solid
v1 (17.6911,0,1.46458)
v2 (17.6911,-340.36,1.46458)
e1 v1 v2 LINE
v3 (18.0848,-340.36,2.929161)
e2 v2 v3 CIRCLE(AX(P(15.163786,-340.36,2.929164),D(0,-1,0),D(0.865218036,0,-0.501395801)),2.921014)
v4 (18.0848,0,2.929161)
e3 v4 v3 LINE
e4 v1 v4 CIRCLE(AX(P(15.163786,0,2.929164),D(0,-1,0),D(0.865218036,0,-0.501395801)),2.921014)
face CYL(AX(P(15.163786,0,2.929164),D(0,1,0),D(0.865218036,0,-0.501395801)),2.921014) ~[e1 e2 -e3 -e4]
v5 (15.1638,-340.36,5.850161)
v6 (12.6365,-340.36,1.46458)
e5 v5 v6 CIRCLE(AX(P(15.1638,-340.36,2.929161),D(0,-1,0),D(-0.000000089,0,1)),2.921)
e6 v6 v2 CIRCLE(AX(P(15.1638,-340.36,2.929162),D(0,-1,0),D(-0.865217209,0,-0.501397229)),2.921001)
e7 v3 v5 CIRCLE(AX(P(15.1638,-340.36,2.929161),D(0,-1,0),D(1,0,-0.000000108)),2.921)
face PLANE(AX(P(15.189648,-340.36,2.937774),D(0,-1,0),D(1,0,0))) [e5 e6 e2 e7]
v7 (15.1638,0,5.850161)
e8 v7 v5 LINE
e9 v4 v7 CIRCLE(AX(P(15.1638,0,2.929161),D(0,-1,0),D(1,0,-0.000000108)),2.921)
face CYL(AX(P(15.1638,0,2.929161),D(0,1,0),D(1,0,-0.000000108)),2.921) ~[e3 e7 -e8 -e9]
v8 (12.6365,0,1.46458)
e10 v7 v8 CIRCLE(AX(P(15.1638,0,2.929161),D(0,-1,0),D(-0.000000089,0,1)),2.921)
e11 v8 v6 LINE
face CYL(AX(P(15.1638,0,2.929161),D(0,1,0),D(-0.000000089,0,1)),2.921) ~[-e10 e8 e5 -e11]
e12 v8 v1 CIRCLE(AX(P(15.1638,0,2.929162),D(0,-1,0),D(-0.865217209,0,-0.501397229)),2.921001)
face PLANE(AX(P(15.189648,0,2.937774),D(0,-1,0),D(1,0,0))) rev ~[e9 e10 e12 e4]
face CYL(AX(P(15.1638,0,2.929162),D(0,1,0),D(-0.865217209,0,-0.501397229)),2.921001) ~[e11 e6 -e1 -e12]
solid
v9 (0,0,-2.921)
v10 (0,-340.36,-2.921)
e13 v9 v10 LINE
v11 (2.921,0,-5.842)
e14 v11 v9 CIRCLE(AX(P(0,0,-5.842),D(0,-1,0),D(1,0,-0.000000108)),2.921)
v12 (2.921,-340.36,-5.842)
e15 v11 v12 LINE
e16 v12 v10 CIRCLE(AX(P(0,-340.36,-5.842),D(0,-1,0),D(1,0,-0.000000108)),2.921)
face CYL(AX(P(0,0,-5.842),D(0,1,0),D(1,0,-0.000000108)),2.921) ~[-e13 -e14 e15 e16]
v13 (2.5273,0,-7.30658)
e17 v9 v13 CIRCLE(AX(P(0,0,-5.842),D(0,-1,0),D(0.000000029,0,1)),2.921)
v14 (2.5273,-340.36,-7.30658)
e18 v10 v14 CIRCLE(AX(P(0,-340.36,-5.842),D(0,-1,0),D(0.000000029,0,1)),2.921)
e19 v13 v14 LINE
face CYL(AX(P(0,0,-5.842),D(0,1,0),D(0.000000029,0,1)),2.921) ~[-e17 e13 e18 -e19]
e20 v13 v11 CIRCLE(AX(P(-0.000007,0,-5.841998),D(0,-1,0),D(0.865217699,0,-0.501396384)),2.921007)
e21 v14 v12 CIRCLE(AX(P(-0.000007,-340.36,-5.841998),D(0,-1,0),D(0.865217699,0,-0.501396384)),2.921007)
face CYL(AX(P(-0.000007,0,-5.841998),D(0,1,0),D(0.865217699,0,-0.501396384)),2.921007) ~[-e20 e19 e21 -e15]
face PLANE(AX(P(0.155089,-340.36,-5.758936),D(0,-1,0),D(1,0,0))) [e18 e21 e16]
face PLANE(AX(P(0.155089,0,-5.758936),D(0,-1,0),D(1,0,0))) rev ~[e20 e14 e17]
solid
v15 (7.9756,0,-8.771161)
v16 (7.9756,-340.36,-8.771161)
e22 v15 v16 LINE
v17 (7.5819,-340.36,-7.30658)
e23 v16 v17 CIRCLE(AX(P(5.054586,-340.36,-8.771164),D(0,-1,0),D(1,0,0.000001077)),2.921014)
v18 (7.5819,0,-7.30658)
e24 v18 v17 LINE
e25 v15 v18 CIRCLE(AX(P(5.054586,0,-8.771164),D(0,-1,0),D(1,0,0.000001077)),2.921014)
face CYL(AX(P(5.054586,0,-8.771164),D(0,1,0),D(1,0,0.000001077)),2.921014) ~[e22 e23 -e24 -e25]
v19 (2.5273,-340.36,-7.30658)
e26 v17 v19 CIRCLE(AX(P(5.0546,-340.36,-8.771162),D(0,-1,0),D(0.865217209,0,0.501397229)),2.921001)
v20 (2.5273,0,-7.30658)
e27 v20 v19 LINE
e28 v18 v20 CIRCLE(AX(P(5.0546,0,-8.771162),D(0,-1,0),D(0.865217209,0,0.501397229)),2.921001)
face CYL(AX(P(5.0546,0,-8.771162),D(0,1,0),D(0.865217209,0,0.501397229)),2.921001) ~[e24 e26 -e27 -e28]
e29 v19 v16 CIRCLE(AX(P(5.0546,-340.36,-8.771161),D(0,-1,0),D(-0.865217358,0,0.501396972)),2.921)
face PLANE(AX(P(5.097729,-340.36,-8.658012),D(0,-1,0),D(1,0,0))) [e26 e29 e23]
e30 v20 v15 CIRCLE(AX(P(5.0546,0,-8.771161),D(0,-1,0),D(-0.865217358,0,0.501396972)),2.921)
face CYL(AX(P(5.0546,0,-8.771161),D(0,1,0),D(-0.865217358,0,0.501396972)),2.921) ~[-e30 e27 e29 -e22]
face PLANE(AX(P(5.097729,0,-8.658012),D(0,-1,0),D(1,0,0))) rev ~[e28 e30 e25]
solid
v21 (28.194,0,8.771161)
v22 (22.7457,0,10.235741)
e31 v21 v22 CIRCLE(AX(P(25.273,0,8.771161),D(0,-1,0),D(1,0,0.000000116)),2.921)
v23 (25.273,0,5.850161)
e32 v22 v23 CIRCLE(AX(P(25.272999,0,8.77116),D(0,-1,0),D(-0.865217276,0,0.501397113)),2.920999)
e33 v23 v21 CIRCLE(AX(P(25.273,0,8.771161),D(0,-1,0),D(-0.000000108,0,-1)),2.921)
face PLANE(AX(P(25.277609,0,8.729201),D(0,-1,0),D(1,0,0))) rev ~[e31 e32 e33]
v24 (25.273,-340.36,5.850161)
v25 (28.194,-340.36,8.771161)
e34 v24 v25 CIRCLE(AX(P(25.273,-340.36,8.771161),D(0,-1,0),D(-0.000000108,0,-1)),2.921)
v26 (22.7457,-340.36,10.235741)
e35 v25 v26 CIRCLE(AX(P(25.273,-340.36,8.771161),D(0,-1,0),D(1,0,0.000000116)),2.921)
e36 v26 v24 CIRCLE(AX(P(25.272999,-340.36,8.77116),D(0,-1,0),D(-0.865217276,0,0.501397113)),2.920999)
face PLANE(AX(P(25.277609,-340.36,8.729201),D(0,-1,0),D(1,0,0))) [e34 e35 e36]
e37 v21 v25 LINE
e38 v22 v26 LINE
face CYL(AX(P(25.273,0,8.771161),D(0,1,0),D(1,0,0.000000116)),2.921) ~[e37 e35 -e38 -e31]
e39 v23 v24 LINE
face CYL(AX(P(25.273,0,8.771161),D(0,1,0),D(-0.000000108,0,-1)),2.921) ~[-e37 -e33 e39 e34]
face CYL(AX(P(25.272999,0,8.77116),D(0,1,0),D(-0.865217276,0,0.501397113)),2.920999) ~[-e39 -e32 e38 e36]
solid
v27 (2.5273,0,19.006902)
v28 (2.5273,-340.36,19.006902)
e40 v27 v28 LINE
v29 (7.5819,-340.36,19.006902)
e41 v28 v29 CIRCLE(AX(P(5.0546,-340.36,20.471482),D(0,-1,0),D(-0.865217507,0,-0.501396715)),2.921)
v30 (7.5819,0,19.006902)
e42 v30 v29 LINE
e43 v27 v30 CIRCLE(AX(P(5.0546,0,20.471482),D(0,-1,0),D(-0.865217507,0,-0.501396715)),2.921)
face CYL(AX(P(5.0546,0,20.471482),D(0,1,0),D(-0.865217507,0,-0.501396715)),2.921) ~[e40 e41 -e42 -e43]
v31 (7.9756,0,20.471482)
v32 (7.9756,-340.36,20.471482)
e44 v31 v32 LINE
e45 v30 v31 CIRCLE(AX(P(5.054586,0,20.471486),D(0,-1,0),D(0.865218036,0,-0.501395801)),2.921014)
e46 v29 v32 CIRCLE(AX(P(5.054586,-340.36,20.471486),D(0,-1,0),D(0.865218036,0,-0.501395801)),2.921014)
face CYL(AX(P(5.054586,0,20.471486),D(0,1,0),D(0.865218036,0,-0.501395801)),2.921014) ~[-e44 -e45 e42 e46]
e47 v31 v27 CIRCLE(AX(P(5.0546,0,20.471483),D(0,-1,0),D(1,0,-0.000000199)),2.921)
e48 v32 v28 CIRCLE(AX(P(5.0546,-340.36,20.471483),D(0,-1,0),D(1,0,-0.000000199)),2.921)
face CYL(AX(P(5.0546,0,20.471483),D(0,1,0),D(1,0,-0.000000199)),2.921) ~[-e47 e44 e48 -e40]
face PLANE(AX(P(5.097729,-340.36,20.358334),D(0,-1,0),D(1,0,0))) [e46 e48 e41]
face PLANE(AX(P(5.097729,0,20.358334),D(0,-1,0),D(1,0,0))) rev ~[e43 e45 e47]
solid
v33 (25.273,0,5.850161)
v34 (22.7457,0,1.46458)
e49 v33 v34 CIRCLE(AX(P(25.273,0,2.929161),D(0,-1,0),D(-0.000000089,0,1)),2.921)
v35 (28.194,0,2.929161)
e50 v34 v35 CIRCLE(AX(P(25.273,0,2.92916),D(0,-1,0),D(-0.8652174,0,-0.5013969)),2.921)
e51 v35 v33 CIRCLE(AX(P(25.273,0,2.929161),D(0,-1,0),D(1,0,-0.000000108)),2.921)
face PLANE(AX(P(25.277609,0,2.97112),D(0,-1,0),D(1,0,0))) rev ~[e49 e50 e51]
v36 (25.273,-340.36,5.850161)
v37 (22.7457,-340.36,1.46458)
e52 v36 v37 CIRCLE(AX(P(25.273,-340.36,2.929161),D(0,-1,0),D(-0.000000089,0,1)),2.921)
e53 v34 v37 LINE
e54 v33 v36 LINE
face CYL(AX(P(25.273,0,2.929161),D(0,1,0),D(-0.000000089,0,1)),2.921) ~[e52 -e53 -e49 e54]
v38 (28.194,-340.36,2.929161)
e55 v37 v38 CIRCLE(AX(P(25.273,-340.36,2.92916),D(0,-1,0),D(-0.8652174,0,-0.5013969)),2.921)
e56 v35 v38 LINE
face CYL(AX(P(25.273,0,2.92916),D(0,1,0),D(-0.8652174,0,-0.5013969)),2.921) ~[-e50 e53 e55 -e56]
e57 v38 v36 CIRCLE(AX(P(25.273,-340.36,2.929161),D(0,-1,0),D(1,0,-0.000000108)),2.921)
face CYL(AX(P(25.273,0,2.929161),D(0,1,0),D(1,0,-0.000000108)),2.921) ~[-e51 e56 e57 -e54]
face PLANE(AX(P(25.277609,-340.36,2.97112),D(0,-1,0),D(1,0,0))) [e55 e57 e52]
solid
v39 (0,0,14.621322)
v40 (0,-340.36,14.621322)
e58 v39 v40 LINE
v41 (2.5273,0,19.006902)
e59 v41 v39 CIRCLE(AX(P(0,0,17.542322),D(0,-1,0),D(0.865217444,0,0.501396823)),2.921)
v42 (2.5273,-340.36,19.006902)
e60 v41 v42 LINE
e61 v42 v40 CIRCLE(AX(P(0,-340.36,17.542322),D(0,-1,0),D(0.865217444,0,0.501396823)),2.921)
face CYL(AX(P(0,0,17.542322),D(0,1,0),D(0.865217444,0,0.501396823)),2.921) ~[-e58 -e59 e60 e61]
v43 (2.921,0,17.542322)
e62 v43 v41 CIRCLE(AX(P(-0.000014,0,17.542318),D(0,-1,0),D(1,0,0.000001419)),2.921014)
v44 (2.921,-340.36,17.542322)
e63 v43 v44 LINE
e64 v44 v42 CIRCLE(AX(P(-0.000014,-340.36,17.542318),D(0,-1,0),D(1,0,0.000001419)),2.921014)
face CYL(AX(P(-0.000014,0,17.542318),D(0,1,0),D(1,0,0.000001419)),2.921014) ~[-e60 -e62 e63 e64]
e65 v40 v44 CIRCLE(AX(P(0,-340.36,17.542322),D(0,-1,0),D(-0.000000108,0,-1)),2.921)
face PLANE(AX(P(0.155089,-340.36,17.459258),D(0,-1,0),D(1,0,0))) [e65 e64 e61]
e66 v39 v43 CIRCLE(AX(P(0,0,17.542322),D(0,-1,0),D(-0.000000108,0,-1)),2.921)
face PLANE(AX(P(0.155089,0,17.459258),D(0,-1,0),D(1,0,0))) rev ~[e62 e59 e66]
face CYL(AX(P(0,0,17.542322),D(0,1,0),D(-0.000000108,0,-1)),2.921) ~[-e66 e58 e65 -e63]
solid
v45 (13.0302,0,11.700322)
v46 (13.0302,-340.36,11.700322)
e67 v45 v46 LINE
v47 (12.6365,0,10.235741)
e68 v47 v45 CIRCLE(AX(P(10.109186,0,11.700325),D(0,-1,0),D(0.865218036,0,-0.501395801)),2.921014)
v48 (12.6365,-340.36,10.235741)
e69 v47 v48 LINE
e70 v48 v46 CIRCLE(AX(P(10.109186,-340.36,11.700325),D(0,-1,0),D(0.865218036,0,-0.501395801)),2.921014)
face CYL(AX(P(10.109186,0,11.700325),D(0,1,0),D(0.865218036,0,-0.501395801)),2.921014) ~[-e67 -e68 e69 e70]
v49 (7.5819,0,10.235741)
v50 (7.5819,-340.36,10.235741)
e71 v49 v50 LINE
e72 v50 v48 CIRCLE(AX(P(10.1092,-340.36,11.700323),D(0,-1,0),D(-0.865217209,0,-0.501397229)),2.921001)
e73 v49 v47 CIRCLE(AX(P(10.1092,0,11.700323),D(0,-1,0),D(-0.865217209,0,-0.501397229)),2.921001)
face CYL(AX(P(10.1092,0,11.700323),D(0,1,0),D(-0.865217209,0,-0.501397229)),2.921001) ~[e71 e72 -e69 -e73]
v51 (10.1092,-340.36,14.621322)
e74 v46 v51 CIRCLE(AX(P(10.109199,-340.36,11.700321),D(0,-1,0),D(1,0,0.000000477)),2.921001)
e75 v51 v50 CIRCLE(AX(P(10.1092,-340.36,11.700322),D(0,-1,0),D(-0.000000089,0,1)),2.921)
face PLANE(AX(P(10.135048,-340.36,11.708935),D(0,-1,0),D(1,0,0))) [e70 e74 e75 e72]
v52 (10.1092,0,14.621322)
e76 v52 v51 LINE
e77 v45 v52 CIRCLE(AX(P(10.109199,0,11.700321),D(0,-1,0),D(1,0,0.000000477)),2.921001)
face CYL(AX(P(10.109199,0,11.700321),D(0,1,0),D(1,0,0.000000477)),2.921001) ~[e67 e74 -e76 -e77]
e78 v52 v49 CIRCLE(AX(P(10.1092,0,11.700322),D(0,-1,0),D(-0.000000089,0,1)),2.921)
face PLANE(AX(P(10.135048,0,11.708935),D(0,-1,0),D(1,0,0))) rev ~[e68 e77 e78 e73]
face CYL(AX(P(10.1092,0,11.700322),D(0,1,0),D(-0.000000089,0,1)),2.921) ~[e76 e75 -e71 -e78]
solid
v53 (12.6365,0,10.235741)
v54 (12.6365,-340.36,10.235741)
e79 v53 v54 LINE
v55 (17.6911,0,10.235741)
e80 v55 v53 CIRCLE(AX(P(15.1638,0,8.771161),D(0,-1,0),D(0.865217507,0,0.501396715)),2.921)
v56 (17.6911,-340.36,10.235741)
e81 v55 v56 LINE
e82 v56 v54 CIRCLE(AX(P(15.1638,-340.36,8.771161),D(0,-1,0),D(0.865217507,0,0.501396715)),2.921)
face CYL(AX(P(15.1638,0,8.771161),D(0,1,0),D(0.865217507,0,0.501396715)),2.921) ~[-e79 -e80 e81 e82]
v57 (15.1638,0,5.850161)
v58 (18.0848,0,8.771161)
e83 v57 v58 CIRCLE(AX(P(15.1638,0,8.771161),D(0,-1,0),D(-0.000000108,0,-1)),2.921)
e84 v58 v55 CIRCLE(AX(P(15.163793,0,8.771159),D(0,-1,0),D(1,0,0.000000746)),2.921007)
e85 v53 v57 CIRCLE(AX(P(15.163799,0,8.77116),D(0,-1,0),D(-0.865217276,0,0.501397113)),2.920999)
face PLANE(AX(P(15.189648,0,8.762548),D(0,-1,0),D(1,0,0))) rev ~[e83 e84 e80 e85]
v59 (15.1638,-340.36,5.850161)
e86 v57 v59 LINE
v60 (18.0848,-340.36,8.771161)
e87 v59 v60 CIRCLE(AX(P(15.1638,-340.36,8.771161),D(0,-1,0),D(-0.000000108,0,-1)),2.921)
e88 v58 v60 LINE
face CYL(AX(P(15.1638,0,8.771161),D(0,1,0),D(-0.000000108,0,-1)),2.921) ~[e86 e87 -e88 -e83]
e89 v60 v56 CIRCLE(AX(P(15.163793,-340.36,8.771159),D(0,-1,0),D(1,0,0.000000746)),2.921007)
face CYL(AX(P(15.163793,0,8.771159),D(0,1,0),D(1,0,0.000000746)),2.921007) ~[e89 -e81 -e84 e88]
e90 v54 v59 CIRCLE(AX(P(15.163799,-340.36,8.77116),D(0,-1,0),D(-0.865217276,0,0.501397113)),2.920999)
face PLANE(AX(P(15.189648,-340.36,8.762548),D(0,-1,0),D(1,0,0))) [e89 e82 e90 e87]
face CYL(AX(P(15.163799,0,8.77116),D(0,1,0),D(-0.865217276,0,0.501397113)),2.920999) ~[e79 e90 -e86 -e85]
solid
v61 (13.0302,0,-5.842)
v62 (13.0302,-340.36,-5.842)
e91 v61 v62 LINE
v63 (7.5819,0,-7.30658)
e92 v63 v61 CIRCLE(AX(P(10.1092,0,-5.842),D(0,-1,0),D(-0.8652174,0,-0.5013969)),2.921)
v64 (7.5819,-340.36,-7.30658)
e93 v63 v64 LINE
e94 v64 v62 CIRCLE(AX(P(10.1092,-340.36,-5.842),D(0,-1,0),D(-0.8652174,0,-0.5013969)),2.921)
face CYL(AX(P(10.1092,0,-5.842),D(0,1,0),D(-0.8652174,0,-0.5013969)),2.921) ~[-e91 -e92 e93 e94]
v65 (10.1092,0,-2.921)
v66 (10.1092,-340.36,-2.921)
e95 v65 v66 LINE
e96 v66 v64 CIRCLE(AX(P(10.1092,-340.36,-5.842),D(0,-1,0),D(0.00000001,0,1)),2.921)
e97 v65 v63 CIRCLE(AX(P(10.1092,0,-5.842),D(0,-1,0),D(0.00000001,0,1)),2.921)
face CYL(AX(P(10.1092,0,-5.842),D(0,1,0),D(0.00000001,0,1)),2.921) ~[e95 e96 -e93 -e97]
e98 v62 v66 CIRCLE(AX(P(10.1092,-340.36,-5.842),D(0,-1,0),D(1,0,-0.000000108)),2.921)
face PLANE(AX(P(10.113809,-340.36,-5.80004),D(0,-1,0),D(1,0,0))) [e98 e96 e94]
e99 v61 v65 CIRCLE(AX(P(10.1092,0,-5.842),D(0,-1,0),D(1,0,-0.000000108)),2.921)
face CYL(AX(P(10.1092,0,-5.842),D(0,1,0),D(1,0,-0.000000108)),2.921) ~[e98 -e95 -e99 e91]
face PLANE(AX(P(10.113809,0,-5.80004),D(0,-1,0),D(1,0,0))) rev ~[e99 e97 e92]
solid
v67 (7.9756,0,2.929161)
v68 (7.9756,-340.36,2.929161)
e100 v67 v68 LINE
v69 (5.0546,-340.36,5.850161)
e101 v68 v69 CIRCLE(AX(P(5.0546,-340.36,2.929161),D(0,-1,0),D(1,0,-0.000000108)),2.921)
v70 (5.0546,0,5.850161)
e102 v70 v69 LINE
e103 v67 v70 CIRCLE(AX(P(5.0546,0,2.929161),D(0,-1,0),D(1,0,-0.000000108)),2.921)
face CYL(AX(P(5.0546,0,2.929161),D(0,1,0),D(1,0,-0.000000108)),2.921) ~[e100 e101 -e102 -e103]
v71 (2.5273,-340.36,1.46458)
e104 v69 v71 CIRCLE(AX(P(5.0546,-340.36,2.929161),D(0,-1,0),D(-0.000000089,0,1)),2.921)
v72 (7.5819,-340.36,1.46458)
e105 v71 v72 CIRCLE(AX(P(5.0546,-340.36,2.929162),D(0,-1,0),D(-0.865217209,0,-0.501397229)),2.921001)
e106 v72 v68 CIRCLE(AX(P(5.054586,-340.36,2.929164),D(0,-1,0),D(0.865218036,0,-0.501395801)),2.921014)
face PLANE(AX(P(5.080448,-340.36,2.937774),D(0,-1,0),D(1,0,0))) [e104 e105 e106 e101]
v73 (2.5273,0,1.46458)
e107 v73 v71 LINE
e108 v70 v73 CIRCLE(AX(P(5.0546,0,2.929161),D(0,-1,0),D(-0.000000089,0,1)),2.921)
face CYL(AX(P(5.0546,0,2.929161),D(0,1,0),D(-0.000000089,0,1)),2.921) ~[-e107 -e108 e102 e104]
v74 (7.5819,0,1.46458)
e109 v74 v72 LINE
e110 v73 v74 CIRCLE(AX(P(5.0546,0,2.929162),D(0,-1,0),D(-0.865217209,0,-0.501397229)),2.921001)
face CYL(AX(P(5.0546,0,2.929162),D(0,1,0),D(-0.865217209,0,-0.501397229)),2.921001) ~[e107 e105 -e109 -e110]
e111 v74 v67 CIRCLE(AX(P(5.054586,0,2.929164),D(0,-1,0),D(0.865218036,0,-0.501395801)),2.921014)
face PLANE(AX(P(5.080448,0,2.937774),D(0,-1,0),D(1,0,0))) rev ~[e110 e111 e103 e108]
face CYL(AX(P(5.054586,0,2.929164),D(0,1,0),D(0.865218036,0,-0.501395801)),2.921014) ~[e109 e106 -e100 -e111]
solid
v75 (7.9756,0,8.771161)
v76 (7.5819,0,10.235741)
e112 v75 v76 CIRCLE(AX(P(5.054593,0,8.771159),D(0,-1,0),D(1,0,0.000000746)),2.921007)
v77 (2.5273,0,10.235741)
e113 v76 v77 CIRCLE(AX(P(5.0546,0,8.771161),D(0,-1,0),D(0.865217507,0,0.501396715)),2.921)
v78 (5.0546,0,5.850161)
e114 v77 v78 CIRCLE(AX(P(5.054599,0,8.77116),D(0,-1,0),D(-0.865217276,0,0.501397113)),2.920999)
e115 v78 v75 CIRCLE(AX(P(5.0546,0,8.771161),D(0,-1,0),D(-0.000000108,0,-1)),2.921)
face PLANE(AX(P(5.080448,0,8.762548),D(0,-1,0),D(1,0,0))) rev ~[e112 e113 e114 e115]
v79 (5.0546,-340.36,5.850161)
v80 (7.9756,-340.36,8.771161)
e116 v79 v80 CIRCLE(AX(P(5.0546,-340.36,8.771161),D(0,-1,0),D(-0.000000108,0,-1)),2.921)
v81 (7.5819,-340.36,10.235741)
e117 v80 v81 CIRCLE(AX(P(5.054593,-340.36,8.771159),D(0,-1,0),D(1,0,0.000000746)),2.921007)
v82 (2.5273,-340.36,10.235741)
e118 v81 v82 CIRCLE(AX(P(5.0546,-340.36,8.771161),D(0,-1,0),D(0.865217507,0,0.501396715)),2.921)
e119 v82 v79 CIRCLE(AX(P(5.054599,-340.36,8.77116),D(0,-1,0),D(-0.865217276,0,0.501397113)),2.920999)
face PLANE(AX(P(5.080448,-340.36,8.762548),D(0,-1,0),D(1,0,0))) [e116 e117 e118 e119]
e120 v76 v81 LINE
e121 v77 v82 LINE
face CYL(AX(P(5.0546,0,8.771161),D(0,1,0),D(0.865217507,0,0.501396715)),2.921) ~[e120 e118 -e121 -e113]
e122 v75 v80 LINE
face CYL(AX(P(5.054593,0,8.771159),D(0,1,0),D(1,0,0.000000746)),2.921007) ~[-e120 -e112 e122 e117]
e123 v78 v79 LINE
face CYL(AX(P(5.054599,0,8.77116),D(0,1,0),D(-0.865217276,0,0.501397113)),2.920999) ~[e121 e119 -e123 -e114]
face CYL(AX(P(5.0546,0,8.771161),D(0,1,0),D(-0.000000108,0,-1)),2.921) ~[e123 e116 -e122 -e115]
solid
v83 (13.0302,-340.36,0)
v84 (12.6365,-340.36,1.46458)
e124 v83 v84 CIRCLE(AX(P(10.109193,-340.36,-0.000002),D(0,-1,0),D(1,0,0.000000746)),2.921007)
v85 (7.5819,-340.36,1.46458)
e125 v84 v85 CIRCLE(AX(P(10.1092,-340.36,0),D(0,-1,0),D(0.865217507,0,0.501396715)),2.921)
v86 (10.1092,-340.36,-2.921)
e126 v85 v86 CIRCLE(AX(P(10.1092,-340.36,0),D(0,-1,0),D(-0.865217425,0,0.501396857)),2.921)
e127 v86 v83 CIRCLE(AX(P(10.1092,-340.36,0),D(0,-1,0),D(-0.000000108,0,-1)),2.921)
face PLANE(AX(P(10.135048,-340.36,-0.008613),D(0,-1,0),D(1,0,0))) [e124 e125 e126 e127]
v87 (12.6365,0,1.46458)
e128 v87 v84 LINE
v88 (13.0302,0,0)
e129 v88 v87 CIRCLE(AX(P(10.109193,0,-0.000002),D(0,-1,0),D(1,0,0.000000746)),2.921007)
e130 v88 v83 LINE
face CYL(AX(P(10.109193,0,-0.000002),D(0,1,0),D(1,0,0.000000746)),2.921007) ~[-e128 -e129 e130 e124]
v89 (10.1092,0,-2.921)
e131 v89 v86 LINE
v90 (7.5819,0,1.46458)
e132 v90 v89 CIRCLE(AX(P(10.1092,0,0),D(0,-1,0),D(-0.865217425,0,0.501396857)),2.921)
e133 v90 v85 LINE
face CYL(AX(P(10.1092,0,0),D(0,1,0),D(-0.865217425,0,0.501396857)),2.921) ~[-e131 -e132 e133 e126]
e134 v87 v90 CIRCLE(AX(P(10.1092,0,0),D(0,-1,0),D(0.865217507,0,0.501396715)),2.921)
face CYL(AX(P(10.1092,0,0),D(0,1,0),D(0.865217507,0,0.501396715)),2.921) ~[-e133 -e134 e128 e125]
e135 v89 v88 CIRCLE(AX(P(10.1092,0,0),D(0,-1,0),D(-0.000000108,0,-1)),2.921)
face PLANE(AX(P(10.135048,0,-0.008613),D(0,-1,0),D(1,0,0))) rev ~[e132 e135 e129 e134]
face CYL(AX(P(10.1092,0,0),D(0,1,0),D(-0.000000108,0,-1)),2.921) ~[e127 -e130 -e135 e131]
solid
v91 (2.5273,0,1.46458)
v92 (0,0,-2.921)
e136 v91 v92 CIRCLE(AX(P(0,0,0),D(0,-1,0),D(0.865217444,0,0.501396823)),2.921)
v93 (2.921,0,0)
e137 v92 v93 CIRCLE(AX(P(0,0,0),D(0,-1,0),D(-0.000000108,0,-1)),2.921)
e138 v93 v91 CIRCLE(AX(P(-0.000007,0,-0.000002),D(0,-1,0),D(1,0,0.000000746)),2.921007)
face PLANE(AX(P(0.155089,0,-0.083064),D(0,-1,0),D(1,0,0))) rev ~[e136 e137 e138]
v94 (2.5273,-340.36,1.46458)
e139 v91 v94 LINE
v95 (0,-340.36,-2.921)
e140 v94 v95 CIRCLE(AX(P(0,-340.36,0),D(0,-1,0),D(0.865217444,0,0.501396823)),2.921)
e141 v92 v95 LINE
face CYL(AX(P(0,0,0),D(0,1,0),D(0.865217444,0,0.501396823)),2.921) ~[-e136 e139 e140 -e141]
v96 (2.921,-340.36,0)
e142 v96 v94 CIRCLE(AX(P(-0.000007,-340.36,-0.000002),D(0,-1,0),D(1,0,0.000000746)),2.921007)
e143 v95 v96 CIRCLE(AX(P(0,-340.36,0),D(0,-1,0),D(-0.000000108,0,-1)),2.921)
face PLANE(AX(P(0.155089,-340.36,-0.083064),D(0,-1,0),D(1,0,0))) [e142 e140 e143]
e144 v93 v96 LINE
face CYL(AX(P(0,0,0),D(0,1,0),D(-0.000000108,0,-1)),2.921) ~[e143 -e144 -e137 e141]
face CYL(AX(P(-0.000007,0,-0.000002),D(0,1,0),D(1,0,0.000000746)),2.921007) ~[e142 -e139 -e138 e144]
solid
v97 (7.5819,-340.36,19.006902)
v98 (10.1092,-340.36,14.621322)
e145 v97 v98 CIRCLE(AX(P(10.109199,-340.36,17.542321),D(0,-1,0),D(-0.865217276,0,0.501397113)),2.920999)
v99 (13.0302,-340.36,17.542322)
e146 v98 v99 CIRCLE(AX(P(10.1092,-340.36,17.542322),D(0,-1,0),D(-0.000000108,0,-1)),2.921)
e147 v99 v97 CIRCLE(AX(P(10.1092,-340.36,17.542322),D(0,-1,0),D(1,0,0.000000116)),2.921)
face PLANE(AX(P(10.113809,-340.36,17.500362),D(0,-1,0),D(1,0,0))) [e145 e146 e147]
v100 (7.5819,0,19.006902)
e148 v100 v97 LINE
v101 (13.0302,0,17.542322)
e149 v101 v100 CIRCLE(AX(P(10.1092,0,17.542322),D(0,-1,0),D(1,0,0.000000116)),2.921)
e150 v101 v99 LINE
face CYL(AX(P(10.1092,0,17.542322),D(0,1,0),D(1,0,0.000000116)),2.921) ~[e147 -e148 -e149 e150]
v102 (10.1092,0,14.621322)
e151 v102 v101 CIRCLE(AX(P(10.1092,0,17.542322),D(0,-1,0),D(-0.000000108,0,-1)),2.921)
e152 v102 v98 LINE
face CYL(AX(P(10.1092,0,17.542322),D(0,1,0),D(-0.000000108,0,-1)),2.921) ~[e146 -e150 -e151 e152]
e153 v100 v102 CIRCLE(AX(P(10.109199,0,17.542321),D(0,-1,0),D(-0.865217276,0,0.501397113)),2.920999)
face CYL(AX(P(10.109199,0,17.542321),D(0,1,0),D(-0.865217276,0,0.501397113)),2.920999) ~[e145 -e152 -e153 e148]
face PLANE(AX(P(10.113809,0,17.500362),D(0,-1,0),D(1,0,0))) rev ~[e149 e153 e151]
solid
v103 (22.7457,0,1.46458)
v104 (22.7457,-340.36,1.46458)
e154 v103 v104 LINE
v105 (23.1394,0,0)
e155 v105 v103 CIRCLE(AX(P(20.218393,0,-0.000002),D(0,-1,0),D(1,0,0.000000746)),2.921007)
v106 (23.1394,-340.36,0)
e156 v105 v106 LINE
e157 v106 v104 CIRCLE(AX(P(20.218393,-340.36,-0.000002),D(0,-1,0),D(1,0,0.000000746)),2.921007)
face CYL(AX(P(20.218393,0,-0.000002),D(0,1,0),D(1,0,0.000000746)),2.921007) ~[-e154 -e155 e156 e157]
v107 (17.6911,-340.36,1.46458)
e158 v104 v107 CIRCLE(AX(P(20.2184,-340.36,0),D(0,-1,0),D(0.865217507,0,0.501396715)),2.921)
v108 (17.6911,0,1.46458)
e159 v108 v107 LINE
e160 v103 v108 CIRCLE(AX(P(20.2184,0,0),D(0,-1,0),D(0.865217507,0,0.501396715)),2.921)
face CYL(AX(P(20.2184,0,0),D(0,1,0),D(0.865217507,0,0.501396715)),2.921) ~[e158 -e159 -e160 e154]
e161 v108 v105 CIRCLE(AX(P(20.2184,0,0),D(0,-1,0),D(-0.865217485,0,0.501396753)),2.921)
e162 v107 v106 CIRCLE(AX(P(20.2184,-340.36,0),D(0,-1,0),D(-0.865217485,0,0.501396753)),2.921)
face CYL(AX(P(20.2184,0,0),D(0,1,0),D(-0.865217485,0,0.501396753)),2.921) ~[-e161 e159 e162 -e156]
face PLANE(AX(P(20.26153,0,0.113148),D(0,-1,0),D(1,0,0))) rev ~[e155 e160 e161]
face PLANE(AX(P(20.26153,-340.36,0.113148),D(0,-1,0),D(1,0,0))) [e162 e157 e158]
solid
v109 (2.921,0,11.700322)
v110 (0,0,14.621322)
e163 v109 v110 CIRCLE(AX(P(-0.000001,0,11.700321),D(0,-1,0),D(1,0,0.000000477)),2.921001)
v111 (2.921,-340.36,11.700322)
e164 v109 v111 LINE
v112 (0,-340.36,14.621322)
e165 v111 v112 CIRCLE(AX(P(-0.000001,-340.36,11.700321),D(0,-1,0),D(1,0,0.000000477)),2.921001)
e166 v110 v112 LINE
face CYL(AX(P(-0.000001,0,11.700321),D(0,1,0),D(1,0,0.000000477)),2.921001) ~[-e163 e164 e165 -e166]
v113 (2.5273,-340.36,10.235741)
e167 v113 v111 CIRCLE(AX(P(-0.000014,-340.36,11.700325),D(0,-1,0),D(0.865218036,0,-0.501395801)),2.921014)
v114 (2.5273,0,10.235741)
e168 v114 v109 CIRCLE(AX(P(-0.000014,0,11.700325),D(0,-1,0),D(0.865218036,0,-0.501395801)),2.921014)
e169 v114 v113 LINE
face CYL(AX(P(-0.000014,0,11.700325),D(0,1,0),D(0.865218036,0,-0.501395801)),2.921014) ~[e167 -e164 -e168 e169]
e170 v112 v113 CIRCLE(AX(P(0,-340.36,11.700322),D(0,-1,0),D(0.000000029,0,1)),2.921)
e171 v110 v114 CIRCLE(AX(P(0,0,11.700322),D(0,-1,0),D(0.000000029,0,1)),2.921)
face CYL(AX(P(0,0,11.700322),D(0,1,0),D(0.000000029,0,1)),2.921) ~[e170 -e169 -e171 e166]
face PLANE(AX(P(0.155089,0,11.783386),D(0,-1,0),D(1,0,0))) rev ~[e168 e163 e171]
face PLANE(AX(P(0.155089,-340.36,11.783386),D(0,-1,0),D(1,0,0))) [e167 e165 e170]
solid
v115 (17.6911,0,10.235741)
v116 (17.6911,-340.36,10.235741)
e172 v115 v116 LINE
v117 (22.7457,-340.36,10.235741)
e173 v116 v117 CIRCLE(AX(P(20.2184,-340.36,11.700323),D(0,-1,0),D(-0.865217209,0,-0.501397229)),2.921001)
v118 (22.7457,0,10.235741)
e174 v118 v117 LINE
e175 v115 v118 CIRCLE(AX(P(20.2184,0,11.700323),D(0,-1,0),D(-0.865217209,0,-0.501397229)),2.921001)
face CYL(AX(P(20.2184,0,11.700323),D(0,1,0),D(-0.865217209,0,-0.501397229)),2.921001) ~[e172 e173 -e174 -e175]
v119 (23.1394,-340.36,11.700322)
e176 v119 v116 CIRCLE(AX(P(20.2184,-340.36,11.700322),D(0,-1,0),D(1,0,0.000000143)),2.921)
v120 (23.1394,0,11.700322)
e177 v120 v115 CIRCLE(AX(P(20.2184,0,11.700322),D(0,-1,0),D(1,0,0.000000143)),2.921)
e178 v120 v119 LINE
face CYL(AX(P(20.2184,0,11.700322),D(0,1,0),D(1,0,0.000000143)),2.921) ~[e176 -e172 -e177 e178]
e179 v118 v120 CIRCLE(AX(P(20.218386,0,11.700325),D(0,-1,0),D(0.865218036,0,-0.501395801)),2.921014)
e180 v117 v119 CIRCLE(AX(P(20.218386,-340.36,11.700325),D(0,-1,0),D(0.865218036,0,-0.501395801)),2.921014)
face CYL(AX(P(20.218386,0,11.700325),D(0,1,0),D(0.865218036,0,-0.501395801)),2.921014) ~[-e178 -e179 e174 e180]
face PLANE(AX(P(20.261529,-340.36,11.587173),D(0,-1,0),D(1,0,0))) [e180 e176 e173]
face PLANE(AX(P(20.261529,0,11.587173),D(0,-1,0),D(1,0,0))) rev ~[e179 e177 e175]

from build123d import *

# Parameters (mm, degrees)
F1_DEPTH = 340.36


with BuildPart() as f1:
    # F0 (on Front) → F1 (new body)
    with BuildSketch(Plane.XZ):
        with BuildLine():
            ThreePointArc((2.5273, 10.235741), (2.523762, 7.312702), (5.0546, 5.850161))
            ThreePointArc((5.0546, 5.850161), (7.120059, 6.705702), (7.9756, 8.771161))
            ThreePointArc((7.9756, 8.771161), (7.875458, 9.529448), (7.5819, 10.235741))
            ThreePointArc((7.5819, 10.235741), (5.0546, 11.692161), (2.5273, 10.235741))
        make_face()
        with BuildLine():
            ThreePointArc((7.5819, -7.30658), (5.0546, -5.850161), (2.5273, -7.30658))
            ThreePointArc((2.5273, -7.30658), (4.296313, -11.592019), (7.9756, -8.771161))
            ThreePointArc((7.9756, -8.771161), (7.875458, -8.012874), (7.5819, -7.30658))
        make_face()
        with BuildLine():
            ThreePointArc((0, -2.921), (2.065459, -2.065459), (2.921, 0))
            ThreePointArc((2.921, 0), (2.820858, 0.758287), (2.5273, 1.46458))
            ThreePointArc((2.5273, 1.46458), (-2.530838, 1.458458), (0, -2.921))
        make_face()
        with BuildLine():
            ThreePointArc((12.6365, 10.235741), (12.632962, 7.312702), (15.1638, 5.850161))
            ThreePointArc((15.1638, 5.850161), (17.229259, 6.705702), (18.0848, 8.771161))
            ThreePointArc((18.0848, 8.771161), (17.984658, 9.529448), (17.6911, 10.235741))
            ThreePointArc((17.6911, 10.235741), (15.1638, 11.692161), (12.6365, 10.235741))
        make_face()
        with BuildLine():
            ThreePointArc((12.6365, 1.46458), (10.1092, 2.921), (7.5819, 1.46458))
            ThreePointArc((7.5819, 1.46458), (7.578362, -1.458458), (10.1092, -2.921))
            ThreePointArc((10.1092, -2.921), (12.174659, -2.065459), (13.0302, 0))
            ThreePointArc((13.0302, 0), (12.930058, 0.758287), (12.6365, 1.46458))
        make_face()
        with BuildLine():
            ThreePointArc((10.1092, 14.621322), (7.578362, 13.15878), (7.5819, 10.235741))
            ThreePointArc((7.5819, 10.235741), (10.1092, 8.779322), (12.6365, 10.235741))
            ThreePointArc((12.6365, 10.235741), (12.930058, 10.942035), (13.0302, 11.700322))
            ThreePointArc((13.0302, 11.700322), (12.174659, 13.76578), (10.1092, 14.621322))
        make_face()
        with BuildLine():
            ThreePointArc((13.0302, -5.842), (12.174659, -3.776541), (10.1092, -2.921))
            ThreePointArc((10.1092, -2.921), (7.578362, -4.383542), (7.5819, -7.30658))
            ThreePointArc((7.5819, -7.30658), (10.867487, -8.662858), (13.0302, -5.842))
        make_face()
        with BuildLine():
            ThreePointArc((2.921, -5.842), (2.065459, -3.776541), (0, -2.921))
            ThreePointArc((0, -2.921), (-2.530838, -7.300458), (2.5273, -7.30658))
            ThreePointArc((2.5273, -7.30658), (2.820858, -6.600287), (2.921, -5.842))
        make_face()
        with BuildLine():
            ThreePointArc((2.5273, 19.006902), (-2.530838, 19.00078), (0, 14.621322))
            ThreePointArc((0, 14.621322), (2.065459, 15.476863), (2.921, 17.542322))
            ThreePointArc((2.921, 17.542322), (2.820858, 18.300608), (2.5273, 19.006902))
        make_face()
        with BuildLine():
            ThreePointArc((15.1638, 5.850161), (12.632962, 4.387619), (12.6365, 1.46458))
            ThreePointArc((12.6365, 1.46458), (15.1638, 0.008161), (17.6911, 1.46458))
            ThreePointArc((17.6911, 1.46458), (17.984658, 2.170874), (18.0848, 2.929161))
            ThreePointArc((18.0848, 2.929161), (17.229259, 4.99462), (15.1638, 5.850161))
        make_face()
        with BuildLine():
            ThreePointArc((7.9756, 20.471482), (4.296313, 23.292341), (2.5273, 19.006902))
            ThreePointArc((2.5273, 19.006902), (5.0546, 17.550482), (7.5819, 19.006902))
            ThreePointArc((7.5819, 19.006902), (7.875458, 19.713196), (7.9756, 20.471482))
        make_face()
        with BuildLine():
            ThreePointArc((22.7457, 10.235741), (22.742162, 7.312702), (25.273, 5.850161))
            ThreePointArc((25.273, 5.850161), (27.338459, 6.705702), (28.194, 8.771161))
            ThreePointArc((28.194, 8.771161), (26.031287, 11.592019), (22.7457, 10.235741))
        make_face()
        with BuildLine():
            ThreePointArc((7.5819, 19.006902), (7.578362, 16.083863), (10.1092, 14.621322))
            ThreePointArc((10.1092, 14.621322), (12.174659, 15.476863), (13.0302, 17.542322))
            ThreePointArc((13.0302, 17.542322), (10.867487, 20.36318), (7.5819, 19.006902))
        make_face()
        with BuildLine():
            ThreePointArc((23.1394, 11.700322), (19.460113, 14.52118), (17.6911, 10.235741))
            ThreePointArc((17.6911, 10.235741), (20.2184, 8.779322), (22.7457, 10.235741))
            ThreePointArc((22.7457, 10.235741), (23.039258, 10.942035), (23.1394, 11.700322))
        make_face()
        with BuildLine():
            ThreePointArc((0, 14.621322), (-2.530838, 10.241863), (2.5273, 10.235741))
            ThreePointArc((2.5273, 10.235741), (2.820858, 10.942035), (2.921, 11.700322))
            ThreePointArc((2.921, 11.700322), (2.065459, 13.76578), (0, 14.621322))
        make_face()
        with BuildLine():
            ThreePointArc((22.7457, 1.46458), (20.2184, 2.921), (17.6911, 1.46458))
            ThreePointArc((17.6911, 1.46458), (19.460113, -2.820858), (23.1394, 0))
            ThreePointArc((23.1394, 0), (23.039258, 0.758287), (22.7457, 1.46458))
        make_face()
        with BuildLine():
            ThreePointArc((25.273, 5.850161), (22.742162, 4.387619), (22.7457, 1.46458))
            ThreePointArc((22.7457, 1.46458), (26.031287, 0.108302), (28.194, 2.929161))
            ThreePointArc((28.194, 2.929161), (27.338459, 4.99462), (25.273, 5.850161))
        make_face()
        with BuildLine():
            ThreePointArc((5.0546, 5.850161), (2.523762, 4.387619), (2.5273, 1.46458))
            ThreePointArc((2.5273, 1.46458), (5.0546, 0.008161), (7.5819, 1.46458))
            ThreePointArc((7.5819, 1.46458), (7.875458, 2.170874), (7.9756, 2.929161))
            ThreePointArc((7.9756, 2.929161), (7.120059, 4.99462), (5.0546, 5.850161))
        make_face()
    extrude(amount=F1_DEPTH)


solid = f1.part
